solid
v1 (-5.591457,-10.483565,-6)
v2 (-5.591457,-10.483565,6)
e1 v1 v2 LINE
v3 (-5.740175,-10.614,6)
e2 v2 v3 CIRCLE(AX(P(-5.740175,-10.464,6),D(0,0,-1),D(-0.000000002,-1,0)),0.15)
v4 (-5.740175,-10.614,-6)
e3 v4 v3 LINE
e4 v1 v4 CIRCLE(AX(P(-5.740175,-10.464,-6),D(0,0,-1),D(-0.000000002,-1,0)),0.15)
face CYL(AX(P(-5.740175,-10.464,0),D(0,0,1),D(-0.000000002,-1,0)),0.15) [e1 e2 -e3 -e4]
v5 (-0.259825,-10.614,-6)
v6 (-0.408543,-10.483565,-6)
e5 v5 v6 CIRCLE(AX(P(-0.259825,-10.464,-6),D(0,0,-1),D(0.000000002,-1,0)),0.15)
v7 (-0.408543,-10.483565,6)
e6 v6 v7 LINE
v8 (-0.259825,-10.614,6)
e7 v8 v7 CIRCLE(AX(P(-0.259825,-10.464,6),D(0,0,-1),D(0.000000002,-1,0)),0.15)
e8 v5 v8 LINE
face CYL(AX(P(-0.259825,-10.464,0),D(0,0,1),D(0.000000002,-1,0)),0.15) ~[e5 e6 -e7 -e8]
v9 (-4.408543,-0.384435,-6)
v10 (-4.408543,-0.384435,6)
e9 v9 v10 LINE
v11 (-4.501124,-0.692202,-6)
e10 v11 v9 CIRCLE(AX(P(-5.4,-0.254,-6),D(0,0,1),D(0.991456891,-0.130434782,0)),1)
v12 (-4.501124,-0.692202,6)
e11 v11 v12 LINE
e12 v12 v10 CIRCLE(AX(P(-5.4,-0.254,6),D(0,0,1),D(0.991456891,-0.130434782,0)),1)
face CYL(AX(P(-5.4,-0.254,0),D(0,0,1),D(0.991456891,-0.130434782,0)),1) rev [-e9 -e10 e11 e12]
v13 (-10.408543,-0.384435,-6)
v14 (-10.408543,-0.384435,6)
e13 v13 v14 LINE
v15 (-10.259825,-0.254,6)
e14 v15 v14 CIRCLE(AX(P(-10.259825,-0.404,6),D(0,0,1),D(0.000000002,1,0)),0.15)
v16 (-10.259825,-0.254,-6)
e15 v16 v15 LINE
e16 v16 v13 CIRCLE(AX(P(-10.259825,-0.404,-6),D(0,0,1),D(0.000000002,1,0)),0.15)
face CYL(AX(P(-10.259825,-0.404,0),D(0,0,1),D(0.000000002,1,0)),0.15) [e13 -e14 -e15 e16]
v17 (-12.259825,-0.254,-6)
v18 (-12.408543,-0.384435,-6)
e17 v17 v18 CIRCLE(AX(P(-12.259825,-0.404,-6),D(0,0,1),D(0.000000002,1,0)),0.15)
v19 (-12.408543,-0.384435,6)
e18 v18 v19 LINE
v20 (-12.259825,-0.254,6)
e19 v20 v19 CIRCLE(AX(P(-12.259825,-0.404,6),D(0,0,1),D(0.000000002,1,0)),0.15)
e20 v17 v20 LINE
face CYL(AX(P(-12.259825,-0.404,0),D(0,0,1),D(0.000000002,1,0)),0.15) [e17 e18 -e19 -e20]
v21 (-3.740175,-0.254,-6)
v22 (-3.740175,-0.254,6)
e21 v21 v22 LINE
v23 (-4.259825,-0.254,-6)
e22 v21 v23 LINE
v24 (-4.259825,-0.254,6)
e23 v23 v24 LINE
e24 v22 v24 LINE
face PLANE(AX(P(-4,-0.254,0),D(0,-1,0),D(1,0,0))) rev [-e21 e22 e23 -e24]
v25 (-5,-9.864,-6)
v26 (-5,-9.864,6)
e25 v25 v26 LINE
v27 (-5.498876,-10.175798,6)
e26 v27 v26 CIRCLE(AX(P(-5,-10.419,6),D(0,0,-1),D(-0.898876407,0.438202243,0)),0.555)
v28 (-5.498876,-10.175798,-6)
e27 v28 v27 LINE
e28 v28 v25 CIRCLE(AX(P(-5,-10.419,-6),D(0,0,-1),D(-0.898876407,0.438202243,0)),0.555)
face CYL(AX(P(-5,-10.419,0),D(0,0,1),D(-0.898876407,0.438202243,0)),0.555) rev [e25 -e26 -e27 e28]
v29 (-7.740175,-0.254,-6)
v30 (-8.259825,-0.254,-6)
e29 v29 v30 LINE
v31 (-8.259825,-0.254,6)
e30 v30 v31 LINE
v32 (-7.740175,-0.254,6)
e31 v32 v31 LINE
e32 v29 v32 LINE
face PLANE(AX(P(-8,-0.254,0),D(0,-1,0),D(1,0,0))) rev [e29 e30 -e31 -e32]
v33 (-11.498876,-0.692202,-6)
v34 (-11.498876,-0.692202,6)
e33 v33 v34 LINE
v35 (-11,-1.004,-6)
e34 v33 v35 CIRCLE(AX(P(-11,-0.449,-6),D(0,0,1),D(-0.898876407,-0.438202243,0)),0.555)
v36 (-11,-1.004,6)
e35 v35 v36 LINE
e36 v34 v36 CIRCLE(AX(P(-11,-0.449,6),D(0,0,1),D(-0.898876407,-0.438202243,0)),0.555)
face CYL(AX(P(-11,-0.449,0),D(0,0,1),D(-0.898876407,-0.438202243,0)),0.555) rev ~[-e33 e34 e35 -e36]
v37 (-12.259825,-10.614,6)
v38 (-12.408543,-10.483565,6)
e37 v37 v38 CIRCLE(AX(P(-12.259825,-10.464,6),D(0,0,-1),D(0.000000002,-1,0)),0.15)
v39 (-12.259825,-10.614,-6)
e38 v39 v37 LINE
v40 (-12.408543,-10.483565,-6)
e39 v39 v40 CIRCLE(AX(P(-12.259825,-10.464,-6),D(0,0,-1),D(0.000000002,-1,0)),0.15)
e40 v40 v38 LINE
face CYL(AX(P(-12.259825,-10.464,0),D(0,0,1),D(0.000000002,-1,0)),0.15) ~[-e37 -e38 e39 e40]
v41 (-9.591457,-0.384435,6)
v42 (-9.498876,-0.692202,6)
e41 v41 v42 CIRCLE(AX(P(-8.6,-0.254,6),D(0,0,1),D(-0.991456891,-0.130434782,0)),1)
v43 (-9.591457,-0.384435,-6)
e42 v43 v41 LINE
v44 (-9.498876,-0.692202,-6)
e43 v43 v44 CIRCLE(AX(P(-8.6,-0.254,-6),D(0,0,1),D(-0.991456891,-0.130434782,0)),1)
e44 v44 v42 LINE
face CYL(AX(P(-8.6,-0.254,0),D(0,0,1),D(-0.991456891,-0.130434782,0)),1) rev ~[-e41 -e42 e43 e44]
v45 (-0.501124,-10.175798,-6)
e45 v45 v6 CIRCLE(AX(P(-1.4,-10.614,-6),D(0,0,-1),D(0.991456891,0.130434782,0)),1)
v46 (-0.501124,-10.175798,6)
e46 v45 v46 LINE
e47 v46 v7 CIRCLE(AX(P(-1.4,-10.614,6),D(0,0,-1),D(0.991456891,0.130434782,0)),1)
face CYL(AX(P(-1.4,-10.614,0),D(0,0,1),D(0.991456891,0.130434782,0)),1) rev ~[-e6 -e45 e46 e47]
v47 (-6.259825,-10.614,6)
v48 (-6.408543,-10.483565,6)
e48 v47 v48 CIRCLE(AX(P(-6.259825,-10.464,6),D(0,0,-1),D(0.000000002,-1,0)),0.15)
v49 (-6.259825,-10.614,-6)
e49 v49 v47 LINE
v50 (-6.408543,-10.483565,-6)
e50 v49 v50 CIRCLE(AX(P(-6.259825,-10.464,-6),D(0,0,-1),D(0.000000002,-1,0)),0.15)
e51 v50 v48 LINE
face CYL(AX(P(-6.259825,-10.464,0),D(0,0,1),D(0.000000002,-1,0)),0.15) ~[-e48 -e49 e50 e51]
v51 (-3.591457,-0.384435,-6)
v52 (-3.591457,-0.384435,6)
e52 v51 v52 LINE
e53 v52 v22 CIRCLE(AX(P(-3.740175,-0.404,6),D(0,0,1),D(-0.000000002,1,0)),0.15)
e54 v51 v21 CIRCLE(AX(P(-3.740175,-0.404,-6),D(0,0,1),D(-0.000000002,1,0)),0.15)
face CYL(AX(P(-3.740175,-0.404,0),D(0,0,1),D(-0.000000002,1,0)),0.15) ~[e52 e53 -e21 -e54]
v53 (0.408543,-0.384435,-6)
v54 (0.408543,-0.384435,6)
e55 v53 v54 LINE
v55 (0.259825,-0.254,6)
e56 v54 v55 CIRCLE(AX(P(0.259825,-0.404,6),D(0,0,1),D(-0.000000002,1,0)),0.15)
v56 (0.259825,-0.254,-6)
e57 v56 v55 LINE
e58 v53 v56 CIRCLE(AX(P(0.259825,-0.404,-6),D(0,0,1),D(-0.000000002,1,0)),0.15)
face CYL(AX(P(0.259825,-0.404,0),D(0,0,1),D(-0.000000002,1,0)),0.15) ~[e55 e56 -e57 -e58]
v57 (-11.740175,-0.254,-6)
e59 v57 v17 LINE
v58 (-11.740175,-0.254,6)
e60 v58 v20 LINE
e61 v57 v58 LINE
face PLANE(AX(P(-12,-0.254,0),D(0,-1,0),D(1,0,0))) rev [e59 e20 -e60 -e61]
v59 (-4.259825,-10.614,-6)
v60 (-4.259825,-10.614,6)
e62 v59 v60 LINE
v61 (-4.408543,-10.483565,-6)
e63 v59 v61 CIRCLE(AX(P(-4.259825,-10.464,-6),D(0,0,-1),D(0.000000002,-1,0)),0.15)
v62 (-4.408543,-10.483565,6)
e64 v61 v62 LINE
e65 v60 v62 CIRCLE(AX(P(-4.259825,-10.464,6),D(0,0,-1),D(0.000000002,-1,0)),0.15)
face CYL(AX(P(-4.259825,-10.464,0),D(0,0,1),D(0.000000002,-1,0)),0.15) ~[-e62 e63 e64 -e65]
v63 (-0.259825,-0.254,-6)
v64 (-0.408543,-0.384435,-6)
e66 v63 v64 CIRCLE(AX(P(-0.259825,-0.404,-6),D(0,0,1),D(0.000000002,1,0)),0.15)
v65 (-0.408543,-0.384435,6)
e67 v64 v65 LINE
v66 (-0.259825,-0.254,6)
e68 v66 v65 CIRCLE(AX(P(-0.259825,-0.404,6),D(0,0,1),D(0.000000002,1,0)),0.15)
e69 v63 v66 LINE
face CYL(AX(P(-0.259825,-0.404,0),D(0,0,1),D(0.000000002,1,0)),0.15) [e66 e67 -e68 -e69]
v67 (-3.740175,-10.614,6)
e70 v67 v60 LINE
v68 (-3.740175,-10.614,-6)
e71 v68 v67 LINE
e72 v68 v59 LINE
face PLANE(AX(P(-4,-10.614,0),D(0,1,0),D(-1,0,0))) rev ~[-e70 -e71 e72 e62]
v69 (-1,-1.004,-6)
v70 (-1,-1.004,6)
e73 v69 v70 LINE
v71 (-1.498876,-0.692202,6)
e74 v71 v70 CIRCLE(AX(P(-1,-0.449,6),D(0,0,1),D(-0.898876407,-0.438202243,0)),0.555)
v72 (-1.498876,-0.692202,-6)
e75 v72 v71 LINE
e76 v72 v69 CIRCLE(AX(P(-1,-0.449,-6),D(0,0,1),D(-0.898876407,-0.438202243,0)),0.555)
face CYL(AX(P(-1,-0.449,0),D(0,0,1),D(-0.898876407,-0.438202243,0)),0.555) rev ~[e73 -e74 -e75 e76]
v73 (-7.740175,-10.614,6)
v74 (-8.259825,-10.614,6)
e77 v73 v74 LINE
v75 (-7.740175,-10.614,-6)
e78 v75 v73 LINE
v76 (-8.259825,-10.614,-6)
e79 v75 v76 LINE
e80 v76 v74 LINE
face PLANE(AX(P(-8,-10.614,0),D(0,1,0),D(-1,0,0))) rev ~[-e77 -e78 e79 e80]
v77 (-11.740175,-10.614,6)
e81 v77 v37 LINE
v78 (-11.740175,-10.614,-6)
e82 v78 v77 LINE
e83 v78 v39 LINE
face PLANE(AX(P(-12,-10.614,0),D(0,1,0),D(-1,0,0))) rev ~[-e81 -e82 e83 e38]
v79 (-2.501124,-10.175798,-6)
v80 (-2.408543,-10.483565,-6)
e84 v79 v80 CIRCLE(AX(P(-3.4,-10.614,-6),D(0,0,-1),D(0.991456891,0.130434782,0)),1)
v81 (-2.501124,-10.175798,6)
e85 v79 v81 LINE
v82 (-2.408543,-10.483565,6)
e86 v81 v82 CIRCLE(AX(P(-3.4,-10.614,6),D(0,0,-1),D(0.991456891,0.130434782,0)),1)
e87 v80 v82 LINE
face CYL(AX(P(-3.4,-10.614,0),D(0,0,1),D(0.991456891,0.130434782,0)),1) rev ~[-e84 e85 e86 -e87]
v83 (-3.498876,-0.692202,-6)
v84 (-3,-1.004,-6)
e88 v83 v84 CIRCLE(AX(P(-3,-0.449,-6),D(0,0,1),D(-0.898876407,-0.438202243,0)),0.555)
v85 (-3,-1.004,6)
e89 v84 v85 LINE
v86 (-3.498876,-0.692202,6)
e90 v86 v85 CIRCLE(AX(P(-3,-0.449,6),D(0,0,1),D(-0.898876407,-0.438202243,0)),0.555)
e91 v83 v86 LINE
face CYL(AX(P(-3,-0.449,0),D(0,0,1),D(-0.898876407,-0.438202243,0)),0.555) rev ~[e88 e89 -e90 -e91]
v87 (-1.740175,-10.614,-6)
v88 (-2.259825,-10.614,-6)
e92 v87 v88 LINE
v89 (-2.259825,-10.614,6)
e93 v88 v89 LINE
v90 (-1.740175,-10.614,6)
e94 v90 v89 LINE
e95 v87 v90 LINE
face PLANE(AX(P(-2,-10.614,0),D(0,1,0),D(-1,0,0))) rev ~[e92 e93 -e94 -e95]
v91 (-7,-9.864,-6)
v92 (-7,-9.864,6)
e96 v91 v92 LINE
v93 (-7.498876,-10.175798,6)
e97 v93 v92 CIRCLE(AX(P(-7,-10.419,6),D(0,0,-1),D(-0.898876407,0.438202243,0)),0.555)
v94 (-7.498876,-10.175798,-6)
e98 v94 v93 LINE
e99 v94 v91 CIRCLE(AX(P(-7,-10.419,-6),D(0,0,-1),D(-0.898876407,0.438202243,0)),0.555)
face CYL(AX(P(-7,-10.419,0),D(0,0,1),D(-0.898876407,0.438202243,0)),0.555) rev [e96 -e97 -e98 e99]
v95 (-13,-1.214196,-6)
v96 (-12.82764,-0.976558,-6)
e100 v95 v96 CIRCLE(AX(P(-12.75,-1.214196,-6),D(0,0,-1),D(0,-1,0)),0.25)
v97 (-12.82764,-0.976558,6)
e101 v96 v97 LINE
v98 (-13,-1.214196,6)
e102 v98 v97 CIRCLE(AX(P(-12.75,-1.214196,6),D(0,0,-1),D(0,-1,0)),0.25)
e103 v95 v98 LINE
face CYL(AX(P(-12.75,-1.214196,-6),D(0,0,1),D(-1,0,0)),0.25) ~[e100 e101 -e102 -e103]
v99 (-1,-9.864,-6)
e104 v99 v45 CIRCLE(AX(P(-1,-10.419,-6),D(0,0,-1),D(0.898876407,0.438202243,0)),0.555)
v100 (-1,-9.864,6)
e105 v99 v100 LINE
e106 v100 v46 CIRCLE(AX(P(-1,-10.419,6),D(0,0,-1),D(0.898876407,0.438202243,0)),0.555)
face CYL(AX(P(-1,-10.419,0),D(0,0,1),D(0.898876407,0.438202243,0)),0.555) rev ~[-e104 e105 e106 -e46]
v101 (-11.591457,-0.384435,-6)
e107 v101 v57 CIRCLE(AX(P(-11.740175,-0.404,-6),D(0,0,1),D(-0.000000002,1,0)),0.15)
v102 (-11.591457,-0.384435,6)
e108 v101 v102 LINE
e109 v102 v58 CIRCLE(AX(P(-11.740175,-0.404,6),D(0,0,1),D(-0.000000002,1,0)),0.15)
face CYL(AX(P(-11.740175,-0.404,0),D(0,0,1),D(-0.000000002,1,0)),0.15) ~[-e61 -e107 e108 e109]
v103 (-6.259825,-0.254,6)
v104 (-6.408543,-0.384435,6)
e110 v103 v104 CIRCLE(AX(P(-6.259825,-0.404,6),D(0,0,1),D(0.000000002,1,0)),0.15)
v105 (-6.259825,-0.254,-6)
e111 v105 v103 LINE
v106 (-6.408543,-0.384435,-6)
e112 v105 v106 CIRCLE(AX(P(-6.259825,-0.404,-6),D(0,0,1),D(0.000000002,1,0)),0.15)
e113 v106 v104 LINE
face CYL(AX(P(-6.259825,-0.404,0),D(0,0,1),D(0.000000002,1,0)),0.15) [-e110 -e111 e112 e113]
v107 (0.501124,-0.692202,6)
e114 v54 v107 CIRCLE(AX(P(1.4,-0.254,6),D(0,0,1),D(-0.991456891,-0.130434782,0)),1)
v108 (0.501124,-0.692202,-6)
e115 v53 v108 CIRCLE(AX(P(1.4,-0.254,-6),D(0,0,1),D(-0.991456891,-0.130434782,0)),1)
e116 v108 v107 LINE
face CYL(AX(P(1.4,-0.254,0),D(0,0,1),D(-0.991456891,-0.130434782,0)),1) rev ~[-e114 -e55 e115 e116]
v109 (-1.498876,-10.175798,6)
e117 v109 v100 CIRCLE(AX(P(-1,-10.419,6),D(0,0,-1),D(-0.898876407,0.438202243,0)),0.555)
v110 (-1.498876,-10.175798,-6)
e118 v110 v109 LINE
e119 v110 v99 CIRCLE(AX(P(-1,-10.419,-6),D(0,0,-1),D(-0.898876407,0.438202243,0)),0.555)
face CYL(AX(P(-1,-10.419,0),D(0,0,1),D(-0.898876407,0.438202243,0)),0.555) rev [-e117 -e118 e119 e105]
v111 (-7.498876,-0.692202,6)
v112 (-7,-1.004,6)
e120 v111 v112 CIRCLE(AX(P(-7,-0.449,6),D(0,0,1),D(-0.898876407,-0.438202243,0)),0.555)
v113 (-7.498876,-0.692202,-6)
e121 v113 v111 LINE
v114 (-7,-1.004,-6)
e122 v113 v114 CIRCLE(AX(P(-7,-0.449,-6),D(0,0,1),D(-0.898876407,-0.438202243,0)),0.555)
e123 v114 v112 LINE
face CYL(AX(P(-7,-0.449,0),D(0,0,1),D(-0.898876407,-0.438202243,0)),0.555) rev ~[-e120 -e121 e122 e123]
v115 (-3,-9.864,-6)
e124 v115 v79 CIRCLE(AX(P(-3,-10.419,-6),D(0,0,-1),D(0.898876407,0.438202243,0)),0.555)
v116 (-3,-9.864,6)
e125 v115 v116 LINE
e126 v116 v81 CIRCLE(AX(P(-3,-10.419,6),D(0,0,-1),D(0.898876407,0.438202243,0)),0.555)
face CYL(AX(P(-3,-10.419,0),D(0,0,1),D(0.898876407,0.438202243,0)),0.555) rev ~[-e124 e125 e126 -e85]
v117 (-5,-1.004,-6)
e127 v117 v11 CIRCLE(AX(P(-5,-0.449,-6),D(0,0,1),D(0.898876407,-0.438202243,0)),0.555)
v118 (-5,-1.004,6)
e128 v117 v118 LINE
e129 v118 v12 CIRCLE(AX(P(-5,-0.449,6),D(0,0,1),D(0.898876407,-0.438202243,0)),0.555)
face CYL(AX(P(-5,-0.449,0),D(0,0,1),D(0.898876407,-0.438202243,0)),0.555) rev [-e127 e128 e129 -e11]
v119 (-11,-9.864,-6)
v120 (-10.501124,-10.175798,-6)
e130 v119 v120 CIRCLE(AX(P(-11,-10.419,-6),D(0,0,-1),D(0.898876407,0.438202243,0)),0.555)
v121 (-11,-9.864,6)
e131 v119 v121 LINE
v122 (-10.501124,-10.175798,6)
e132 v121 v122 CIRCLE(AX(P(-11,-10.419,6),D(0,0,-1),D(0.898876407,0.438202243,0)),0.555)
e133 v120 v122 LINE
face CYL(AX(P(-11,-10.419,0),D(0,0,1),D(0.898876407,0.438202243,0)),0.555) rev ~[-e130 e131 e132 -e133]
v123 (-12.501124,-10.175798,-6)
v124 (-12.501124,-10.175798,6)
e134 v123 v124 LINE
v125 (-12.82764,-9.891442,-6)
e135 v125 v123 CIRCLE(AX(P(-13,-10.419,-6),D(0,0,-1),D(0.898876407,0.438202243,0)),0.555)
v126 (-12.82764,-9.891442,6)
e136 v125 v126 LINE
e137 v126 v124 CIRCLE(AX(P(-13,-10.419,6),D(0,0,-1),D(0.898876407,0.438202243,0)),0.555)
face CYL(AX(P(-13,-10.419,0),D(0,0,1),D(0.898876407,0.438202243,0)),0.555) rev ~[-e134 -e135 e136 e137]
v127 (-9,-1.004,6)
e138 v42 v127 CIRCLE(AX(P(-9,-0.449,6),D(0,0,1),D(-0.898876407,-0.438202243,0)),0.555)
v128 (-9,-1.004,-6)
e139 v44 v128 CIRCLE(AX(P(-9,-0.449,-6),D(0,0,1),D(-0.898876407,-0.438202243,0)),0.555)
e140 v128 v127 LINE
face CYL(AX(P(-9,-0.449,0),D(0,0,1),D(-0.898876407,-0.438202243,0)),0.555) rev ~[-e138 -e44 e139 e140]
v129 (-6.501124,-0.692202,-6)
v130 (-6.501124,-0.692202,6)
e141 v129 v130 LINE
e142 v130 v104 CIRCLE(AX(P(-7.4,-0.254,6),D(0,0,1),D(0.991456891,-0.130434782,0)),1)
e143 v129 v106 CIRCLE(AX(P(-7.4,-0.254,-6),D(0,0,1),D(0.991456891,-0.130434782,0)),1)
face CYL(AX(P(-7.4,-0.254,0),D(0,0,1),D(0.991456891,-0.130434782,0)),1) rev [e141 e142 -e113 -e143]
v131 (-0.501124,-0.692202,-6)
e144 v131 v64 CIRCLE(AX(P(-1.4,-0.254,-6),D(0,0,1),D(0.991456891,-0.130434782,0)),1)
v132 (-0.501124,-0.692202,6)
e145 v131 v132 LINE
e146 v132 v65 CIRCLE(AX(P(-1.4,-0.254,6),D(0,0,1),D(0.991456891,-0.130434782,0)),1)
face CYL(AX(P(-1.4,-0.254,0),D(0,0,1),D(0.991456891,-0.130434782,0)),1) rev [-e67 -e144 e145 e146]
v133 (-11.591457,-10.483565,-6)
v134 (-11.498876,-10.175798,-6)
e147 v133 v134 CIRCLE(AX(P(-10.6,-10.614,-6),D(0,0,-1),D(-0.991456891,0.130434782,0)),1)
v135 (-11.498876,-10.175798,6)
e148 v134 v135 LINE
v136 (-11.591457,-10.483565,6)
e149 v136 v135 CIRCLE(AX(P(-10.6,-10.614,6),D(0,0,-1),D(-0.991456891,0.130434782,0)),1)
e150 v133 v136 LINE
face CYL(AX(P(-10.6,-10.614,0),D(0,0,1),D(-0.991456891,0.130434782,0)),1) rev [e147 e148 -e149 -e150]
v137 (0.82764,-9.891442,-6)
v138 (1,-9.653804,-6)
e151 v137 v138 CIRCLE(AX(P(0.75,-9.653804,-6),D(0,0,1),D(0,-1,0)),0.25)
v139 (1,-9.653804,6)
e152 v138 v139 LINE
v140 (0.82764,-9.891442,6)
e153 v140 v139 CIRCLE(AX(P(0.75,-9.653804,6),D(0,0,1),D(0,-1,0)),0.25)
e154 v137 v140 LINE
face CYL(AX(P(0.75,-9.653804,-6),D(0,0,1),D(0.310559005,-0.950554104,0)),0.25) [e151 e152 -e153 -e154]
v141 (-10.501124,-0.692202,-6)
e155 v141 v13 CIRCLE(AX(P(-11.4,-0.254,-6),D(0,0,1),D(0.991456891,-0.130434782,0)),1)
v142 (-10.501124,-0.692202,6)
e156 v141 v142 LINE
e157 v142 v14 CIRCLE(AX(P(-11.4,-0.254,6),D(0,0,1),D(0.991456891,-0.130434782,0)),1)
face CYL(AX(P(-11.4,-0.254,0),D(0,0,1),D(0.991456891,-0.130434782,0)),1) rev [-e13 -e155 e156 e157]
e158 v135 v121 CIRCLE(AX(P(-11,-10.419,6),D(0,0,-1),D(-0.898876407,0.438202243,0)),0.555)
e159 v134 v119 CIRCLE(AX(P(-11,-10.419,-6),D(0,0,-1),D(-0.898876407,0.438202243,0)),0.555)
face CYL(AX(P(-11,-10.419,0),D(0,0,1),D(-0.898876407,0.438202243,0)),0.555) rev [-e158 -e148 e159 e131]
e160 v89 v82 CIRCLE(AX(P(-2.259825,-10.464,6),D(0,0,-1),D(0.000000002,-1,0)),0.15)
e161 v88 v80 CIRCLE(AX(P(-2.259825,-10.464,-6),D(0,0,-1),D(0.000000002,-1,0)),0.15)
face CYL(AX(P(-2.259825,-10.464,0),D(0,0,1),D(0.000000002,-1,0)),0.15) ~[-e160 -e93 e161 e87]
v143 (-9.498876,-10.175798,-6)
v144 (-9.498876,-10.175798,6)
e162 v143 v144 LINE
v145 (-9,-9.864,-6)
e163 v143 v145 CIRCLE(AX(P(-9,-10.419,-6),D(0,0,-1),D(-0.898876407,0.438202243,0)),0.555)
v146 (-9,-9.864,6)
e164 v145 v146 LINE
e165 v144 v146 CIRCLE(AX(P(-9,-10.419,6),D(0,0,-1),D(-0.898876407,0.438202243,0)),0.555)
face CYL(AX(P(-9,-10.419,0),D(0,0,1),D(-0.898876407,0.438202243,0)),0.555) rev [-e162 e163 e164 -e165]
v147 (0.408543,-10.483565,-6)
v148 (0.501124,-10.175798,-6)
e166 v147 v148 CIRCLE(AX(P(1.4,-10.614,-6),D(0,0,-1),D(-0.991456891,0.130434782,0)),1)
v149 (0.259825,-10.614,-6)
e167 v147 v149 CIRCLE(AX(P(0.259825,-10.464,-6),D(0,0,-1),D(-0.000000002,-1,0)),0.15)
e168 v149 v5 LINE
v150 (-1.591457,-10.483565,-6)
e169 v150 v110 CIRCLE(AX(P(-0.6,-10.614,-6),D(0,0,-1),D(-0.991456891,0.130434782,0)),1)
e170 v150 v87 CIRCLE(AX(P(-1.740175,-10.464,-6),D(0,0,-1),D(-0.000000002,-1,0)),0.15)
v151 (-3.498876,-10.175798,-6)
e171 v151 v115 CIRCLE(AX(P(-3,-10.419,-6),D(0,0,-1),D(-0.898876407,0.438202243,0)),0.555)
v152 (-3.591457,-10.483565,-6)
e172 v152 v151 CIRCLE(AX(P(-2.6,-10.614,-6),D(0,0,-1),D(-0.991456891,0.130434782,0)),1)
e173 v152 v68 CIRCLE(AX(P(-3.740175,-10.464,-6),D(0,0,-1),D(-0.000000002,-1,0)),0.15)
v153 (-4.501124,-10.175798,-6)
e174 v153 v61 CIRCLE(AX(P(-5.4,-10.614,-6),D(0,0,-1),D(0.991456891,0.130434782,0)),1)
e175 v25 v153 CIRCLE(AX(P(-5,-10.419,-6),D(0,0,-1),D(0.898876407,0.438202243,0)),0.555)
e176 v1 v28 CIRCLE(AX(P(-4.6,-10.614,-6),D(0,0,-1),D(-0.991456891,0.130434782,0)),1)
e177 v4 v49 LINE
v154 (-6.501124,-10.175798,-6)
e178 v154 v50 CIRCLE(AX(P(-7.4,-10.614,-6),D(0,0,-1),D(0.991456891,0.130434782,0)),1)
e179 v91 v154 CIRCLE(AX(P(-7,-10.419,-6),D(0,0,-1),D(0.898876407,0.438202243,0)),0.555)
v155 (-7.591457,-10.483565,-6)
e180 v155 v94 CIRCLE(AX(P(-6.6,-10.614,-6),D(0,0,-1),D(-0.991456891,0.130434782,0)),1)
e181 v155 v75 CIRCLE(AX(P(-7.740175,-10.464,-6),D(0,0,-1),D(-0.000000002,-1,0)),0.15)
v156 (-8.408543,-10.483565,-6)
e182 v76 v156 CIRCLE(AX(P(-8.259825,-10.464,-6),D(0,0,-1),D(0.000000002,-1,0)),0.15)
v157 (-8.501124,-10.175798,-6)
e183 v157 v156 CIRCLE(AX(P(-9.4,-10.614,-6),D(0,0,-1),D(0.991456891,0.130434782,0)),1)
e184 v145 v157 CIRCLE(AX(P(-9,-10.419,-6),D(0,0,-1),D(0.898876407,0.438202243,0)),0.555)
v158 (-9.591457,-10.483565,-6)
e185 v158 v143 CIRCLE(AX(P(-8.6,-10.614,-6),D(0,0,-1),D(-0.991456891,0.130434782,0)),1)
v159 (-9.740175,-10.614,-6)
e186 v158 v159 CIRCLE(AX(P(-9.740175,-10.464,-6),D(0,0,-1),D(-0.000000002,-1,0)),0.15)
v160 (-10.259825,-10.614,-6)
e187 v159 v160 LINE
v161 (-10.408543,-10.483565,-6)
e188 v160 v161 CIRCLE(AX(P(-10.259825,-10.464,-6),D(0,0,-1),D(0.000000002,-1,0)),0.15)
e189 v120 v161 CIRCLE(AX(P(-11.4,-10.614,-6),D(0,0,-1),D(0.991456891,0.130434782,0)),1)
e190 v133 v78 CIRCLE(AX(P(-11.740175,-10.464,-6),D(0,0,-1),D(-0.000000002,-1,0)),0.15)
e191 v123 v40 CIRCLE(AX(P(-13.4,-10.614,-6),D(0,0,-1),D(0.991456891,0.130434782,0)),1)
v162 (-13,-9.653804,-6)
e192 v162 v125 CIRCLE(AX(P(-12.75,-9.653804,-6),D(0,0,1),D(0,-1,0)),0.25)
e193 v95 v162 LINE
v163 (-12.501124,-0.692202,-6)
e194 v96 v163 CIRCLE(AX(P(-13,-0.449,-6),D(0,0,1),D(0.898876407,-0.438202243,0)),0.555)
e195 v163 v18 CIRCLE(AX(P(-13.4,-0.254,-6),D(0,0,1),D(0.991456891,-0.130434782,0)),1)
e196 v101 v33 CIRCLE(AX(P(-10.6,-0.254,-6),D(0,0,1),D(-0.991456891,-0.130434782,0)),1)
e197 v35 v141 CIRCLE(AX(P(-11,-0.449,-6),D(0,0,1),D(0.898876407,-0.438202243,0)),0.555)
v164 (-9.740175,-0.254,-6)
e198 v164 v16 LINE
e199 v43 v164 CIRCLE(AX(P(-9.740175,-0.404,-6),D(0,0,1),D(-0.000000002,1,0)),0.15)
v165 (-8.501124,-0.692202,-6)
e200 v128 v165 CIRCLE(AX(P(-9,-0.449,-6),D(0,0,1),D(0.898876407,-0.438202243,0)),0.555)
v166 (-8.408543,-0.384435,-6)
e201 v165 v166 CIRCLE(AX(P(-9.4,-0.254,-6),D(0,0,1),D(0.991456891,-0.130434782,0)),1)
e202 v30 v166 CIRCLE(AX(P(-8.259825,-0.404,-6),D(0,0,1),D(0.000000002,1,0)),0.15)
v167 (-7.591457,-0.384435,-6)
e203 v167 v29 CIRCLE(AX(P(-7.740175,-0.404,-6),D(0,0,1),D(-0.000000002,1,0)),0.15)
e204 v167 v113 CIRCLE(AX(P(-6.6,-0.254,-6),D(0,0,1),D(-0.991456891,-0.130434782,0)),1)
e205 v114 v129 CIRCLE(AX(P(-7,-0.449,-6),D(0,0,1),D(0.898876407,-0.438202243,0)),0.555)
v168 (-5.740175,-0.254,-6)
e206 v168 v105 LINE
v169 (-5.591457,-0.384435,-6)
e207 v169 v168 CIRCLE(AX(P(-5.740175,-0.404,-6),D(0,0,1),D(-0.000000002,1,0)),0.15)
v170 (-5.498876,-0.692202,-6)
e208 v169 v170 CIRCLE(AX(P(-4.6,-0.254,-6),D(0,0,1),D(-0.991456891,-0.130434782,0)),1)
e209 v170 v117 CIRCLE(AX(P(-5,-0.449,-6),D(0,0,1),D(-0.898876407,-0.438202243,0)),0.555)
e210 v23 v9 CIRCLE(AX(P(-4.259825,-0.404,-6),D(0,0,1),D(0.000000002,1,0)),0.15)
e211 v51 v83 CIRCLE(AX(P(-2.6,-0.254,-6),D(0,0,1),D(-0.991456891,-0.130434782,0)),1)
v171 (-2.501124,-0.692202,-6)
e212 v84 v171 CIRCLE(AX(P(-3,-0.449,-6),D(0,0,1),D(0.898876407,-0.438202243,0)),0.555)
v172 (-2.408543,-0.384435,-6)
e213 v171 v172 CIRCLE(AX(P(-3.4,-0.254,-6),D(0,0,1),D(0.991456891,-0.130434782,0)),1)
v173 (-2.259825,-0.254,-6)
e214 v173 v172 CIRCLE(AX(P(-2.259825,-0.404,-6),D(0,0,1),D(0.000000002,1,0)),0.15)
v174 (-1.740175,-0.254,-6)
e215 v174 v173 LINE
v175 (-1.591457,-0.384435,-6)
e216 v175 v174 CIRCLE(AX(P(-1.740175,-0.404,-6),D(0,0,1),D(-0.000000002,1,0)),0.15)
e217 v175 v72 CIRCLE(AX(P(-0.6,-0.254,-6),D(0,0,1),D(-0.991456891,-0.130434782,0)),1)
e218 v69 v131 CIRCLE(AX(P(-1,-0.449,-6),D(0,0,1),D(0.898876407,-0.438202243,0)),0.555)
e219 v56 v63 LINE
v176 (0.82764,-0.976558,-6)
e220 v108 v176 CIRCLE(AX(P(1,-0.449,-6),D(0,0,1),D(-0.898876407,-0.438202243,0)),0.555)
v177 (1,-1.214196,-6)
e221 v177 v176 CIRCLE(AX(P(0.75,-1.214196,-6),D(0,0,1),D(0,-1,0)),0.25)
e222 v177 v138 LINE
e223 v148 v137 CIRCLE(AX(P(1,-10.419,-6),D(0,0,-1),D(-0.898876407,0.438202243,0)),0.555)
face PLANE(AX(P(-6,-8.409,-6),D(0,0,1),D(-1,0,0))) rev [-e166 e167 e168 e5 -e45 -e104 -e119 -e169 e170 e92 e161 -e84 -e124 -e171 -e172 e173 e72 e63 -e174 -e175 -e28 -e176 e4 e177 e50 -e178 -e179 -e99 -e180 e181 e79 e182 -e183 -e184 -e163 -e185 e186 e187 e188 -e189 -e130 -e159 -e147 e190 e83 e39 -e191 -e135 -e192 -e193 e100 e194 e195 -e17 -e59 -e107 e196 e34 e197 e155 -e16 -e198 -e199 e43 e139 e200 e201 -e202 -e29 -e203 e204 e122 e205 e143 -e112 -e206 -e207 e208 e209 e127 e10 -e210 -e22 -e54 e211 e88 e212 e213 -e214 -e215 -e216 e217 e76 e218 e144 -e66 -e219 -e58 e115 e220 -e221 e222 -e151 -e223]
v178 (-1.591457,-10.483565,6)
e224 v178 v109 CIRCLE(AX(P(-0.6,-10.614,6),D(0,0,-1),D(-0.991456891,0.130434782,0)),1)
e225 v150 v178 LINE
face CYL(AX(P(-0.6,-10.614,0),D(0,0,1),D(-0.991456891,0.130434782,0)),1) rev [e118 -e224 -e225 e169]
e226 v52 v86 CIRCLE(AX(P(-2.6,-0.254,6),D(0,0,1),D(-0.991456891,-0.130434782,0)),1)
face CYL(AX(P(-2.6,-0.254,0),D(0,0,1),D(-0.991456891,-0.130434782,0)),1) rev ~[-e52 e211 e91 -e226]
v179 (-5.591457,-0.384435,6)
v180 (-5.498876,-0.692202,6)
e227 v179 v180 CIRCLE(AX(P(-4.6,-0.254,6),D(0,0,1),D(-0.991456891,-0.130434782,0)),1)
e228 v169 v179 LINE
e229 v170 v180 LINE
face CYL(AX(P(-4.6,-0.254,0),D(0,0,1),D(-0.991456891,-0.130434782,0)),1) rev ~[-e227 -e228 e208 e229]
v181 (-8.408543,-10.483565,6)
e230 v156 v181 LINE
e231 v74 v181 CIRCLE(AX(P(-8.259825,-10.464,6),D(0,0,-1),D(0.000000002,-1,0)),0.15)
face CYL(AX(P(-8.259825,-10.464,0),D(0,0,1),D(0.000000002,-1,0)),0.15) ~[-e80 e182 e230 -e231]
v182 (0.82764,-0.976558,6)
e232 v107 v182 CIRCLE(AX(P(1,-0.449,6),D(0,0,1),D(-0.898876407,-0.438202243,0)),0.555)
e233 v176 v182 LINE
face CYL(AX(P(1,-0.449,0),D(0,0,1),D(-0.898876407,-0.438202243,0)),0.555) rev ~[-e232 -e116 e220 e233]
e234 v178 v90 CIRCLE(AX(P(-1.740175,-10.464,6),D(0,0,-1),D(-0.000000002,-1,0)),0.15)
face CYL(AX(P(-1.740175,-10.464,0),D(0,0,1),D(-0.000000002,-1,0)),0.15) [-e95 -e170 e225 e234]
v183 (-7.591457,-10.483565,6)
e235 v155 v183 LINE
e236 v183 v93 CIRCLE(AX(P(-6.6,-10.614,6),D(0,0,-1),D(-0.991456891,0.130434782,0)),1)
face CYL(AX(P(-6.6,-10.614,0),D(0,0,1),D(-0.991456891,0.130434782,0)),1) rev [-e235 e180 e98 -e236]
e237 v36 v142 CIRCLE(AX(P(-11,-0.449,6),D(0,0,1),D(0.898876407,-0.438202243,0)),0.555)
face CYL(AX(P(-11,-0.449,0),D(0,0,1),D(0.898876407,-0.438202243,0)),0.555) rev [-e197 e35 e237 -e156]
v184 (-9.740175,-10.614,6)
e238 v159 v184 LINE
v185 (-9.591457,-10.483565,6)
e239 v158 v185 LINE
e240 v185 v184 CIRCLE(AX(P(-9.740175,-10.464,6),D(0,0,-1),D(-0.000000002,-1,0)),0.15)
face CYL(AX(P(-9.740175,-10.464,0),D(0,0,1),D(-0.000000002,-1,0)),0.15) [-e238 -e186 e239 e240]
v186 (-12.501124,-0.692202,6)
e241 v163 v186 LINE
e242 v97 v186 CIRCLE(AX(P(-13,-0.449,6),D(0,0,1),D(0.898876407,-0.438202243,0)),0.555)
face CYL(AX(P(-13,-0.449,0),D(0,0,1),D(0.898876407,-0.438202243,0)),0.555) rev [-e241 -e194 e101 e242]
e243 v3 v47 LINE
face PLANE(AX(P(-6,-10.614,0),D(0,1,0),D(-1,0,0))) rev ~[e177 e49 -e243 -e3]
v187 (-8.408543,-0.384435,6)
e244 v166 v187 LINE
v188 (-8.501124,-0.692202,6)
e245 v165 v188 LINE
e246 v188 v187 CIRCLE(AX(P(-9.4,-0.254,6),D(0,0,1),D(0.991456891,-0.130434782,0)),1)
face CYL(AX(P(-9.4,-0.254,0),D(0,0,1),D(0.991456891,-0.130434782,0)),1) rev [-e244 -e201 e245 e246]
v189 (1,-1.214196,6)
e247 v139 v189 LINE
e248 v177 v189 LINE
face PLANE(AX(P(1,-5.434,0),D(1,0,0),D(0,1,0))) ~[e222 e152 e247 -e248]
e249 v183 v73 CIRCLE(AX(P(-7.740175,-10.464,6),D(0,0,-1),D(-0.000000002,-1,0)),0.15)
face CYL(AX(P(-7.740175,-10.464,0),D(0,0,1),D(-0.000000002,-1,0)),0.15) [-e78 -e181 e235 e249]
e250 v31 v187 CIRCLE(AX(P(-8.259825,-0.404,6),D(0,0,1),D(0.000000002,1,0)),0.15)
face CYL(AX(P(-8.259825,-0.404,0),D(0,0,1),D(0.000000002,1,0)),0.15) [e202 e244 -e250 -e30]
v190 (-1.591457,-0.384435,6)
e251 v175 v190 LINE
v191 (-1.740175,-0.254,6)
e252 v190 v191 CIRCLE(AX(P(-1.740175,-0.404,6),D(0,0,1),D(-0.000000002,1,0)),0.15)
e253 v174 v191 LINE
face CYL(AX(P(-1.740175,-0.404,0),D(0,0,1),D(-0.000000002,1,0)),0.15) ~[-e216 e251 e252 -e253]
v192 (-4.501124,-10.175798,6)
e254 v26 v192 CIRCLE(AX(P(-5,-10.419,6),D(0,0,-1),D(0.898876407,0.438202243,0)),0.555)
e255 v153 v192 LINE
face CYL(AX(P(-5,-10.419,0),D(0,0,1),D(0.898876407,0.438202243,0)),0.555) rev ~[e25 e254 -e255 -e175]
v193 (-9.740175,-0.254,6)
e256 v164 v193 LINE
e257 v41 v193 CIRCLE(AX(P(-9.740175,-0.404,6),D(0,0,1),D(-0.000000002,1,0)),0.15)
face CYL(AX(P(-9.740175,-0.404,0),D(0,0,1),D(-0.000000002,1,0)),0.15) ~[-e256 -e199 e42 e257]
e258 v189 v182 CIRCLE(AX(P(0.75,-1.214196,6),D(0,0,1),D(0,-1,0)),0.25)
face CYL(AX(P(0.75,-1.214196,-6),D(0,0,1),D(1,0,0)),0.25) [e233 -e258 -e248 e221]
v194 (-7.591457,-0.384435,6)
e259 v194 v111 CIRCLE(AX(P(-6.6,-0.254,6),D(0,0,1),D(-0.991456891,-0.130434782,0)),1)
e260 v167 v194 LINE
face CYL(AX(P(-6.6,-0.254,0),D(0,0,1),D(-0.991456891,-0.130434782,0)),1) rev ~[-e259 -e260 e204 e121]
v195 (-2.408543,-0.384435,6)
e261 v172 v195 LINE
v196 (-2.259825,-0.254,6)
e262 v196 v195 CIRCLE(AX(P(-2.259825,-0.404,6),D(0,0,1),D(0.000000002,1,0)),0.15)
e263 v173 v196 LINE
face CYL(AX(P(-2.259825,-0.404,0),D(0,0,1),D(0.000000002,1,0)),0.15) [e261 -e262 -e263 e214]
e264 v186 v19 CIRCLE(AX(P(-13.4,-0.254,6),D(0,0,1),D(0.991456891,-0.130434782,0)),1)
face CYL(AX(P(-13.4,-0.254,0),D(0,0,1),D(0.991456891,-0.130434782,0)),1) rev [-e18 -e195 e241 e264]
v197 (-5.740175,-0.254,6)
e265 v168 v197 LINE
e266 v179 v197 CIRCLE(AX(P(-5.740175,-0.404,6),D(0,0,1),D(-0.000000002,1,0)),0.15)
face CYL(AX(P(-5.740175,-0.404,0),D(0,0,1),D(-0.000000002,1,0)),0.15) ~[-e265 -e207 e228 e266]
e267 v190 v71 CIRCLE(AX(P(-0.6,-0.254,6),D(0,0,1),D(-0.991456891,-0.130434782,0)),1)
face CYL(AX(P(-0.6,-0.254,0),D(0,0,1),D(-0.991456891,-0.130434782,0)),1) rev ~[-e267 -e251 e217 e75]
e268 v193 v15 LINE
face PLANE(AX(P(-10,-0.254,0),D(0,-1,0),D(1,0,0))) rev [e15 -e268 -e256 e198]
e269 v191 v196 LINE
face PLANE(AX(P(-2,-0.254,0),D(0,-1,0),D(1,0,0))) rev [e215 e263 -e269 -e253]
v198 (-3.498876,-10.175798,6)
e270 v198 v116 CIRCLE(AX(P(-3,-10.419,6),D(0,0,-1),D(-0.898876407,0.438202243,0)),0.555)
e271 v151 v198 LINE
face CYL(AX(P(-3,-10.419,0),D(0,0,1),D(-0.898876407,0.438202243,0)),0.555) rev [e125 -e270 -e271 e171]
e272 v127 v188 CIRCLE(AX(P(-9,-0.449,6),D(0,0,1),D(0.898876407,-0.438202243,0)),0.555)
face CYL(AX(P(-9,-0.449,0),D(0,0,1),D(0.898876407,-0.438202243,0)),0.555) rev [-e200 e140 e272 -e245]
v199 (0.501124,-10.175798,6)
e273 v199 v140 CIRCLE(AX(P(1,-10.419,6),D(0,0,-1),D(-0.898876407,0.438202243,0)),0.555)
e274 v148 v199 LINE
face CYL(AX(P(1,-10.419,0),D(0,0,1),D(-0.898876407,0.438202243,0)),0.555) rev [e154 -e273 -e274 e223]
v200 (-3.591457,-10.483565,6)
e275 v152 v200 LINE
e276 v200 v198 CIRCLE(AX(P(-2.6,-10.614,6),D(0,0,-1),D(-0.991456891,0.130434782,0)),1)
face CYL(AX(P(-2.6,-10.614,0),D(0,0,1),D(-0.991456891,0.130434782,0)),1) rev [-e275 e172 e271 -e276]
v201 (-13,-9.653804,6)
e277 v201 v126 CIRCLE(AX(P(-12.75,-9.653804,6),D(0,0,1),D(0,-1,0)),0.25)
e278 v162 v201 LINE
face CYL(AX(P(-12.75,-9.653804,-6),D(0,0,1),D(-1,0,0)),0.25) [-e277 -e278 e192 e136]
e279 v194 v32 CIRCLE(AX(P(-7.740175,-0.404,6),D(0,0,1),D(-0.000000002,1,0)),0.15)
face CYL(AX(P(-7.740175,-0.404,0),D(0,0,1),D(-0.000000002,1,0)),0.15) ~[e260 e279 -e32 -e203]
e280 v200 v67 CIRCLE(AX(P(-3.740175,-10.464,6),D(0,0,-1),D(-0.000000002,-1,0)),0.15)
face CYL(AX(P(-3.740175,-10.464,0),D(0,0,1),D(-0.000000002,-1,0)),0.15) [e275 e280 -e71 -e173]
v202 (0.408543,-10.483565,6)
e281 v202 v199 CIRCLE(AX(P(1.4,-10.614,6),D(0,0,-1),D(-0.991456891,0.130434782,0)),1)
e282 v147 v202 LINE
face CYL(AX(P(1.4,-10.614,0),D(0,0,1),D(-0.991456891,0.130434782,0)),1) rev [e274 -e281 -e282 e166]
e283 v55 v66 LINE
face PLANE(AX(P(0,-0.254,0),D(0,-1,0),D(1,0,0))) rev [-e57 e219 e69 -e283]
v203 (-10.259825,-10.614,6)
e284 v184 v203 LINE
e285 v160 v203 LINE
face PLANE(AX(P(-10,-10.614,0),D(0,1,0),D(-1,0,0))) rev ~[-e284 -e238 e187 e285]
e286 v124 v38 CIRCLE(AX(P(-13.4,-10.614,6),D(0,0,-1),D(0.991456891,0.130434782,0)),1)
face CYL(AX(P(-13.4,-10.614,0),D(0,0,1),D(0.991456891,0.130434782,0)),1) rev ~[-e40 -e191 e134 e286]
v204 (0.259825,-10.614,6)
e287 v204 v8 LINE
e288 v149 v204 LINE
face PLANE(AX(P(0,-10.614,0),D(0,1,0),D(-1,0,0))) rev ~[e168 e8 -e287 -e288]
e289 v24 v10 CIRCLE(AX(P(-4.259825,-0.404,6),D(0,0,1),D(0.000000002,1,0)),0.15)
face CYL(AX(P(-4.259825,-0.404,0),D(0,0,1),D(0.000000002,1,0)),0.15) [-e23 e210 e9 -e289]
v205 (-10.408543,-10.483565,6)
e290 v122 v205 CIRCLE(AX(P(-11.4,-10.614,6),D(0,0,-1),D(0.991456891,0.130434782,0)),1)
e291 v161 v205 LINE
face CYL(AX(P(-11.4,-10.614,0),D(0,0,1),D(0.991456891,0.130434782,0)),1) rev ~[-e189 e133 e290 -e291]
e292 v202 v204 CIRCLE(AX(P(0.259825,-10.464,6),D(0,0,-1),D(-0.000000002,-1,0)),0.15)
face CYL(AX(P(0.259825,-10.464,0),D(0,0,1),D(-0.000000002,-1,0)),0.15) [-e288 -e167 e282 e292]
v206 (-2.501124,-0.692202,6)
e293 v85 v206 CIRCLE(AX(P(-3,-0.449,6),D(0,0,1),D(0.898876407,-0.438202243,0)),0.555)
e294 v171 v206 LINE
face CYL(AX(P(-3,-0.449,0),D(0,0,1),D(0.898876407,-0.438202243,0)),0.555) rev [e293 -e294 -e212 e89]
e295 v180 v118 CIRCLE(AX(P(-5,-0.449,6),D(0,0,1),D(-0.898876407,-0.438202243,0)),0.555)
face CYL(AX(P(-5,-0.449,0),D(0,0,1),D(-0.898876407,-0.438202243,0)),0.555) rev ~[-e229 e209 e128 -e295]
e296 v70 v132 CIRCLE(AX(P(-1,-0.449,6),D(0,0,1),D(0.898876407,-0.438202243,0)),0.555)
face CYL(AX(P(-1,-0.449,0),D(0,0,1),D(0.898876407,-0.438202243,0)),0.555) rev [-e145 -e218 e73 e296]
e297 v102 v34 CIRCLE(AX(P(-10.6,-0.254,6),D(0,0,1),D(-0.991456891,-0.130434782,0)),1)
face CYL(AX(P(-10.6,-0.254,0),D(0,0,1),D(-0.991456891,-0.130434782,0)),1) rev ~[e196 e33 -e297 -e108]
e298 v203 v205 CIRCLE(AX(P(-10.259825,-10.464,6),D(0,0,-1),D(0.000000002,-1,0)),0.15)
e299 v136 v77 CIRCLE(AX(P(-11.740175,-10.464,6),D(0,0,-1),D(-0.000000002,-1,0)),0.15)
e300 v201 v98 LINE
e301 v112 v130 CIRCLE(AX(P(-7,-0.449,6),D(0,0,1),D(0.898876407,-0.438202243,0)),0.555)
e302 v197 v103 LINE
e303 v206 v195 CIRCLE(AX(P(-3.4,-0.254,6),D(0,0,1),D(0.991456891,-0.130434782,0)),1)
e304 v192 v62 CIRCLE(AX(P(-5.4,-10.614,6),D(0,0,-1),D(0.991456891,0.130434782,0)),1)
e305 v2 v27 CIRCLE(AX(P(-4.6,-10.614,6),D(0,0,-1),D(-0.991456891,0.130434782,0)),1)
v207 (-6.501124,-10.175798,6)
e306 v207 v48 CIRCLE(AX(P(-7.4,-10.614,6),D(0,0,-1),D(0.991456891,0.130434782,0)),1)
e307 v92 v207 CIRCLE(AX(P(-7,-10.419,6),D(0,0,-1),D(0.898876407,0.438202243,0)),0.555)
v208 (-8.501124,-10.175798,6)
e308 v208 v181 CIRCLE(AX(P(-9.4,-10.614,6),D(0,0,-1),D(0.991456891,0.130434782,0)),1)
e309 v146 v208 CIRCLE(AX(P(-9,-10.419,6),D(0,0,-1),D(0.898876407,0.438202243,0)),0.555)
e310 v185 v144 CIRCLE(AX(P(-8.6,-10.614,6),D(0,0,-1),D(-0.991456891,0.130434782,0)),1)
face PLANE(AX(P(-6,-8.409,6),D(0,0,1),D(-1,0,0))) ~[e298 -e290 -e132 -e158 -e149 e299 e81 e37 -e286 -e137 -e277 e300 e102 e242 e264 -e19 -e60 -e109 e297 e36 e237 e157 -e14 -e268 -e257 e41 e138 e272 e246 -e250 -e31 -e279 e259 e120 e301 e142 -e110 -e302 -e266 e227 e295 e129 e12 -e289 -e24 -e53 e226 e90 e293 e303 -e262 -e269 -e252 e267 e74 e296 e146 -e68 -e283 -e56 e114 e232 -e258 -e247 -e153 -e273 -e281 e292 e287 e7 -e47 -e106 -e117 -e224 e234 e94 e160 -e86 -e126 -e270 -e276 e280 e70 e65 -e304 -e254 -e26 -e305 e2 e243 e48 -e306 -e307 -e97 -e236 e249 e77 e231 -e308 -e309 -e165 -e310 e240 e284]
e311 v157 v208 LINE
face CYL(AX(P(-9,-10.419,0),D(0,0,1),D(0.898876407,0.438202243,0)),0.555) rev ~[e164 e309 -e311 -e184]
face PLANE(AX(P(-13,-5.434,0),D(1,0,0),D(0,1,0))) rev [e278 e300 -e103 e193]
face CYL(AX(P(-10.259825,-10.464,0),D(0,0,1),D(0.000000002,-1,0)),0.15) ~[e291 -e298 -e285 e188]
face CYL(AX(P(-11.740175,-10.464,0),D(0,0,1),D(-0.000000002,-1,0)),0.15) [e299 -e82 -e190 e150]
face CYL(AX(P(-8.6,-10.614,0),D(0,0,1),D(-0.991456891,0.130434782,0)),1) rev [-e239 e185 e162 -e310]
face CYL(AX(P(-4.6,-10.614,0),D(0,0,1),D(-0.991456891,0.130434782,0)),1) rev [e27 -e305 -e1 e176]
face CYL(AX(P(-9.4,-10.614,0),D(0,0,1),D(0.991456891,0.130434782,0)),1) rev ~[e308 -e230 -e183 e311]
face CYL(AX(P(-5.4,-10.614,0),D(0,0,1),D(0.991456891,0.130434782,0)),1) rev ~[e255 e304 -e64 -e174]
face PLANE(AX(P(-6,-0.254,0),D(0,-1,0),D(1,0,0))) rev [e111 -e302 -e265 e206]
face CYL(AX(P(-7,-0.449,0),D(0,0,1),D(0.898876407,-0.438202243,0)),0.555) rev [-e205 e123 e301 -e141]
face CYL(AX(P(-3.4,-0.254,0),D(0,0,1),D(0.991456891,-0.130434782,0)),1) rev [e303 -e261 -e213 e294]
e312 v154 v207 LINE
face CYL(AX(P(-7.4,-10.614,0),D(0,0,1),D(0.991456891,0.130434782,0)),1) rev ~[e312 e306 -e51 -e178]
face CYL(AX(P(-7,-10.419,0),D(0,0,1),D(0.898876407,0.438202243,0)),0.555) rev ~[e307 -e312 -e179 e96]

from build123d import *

# Parameters (mm, degrees)
BOSS_EXTRUDE1_DEPTH = 6.35
LPATTERN1_COUNT     = 7
LPATTERN1_PITCH     = 2
SKETCH4_W           = 14
SKETCH4_H           = 5.95
BOSS_EXTRUDE3_DEPTH = 6
FILLET1_R           = 0.25


with BuildPart() as part:
    # Sketch1 → Boss-Extrude1 (new, symmetric)
    with BuildSketch(Plane.XY):
        with BuildLine():
            Line((0, 0), (0, -0.254))
            Line((0, -0.254), (0.259824575, -0.254))
            ThreePointArc((0.259824575, -0.254), (0.358731646, -0.291228588), (0.408543109, -0.384434783))
            ThreePointArc((0.408543109, -0.384434783), (0.442388286, -0.542062154), (0.501123596, -0.692202247))
            ThreePointArc((0.501123596, -0.692202247), (0.705850588, -0.919639059), (1, -1.004))
            Line((1, -1.004), (1, 0))
            Line((1, 0), (1, 0.516))
            Line((1, 0.516), (0, 0.516))
            Line((0, 0.516), (0, 0))
        make_face()
    extrude(amount=BOSS_EXTRUDE1_DEPTH, both=True)

    # Mirror1: part across plane


with BuildPart() as part_1:
    add(part.part)
    add(part.part.mirror(Plane(origin=(0, 0, 6.35), x_dir=(0, 0, 1), z_dir=(1, 0, 0))))


with BuildPart() as lpattern1_1:
    # LPattern1: pattern copy
    add(part_1.part.moved(Location(Vector(-1, 0, 0) * (1 * LPATTERN1_PITCH))))


with BuildPart() as lpattern1_2:
    # LPattern1: pattern copy
    add(part_1.part.moved(Location(Vector(-1, 0, 0) * (2 * LPATTERN1_PITCH))))


with BuildPart() as lpattern1_3:
    # LPattern1: pattern copy
    add(part_1.part.moved(Location(Vector(-1, 0, 0) * (3 * LPATTERN1_PITCH))))


with BuildPart() as lpattern1_4:
    # LPattern1: pattern copy
    add(part_1.part.moved(Location(Vector(-1, 0, 0) * (4 * LPATTERN1_PITCH))))


with BuildPart() as lpattern1_5:
    # LPattern1: pattern copy
    add(part_1.part.moved(Location(Vector(-1, 0, 0) * (5 * LPATTERN1_PITCH))))


with BuildPart() as lpattern1_6:
    # LPattern1: pattern copy
    add(part_1.part.moved(Location(Vector(-1, 0, 0) * (6 * LPATTERN1_PITCH))))


with BuildPart() as lpattern1_1_1:
    add(lpattern1_1.part)

    # Combine1: union LPattern1_4, part, LPattern1_3, LPattern1_2, LPattern1_5, LPattern1_6
    add(lpattern1_4.part)
    add(part_1.part)
    add(lpattern1_3.part)
    add(lpattern1_2.part)
    add(lpattern1_5.part)
    add(lpattern1_6.part)


with BuildPart() as body_2:
    # Sketch4 → Boss-Extrude3 (new, symmetric)
    with BuildSketch(Plane.XY):
        with Locations((-6, -2.459)):
            Rectangle(SKETCH4_W, SKETCH4_H)
    extrude(amount=BOSS_EXTRUDE3_DEPTH, both=True)

    # Combine2: cut LPattern1_1
    add(lpattern1_1_1.part, mode=Mode.SUBTRACT)

    # Mirror2: body 2 across plane


with BuildPart() as body_2_1:
    add(body_2.part)
    add(body_2.part.mirror(Plane(origin=(1, -5.434, 6), x_dir=(0, 0, 1), z_dir=(0, 1, 0))))

    # Fillet1
    fillet1_edges = [body_2_1.edges().sort_by_distance(p)[0] for p in [
        (1, -9.864, 0),
        (-13, -9.864, 0),
        (-13, -1.004, 0),
        (1, -1.004, 0),
    ]]
    fillet(fillet1_edges, radius=FILLET1_R)


solid = body_2_1.part
